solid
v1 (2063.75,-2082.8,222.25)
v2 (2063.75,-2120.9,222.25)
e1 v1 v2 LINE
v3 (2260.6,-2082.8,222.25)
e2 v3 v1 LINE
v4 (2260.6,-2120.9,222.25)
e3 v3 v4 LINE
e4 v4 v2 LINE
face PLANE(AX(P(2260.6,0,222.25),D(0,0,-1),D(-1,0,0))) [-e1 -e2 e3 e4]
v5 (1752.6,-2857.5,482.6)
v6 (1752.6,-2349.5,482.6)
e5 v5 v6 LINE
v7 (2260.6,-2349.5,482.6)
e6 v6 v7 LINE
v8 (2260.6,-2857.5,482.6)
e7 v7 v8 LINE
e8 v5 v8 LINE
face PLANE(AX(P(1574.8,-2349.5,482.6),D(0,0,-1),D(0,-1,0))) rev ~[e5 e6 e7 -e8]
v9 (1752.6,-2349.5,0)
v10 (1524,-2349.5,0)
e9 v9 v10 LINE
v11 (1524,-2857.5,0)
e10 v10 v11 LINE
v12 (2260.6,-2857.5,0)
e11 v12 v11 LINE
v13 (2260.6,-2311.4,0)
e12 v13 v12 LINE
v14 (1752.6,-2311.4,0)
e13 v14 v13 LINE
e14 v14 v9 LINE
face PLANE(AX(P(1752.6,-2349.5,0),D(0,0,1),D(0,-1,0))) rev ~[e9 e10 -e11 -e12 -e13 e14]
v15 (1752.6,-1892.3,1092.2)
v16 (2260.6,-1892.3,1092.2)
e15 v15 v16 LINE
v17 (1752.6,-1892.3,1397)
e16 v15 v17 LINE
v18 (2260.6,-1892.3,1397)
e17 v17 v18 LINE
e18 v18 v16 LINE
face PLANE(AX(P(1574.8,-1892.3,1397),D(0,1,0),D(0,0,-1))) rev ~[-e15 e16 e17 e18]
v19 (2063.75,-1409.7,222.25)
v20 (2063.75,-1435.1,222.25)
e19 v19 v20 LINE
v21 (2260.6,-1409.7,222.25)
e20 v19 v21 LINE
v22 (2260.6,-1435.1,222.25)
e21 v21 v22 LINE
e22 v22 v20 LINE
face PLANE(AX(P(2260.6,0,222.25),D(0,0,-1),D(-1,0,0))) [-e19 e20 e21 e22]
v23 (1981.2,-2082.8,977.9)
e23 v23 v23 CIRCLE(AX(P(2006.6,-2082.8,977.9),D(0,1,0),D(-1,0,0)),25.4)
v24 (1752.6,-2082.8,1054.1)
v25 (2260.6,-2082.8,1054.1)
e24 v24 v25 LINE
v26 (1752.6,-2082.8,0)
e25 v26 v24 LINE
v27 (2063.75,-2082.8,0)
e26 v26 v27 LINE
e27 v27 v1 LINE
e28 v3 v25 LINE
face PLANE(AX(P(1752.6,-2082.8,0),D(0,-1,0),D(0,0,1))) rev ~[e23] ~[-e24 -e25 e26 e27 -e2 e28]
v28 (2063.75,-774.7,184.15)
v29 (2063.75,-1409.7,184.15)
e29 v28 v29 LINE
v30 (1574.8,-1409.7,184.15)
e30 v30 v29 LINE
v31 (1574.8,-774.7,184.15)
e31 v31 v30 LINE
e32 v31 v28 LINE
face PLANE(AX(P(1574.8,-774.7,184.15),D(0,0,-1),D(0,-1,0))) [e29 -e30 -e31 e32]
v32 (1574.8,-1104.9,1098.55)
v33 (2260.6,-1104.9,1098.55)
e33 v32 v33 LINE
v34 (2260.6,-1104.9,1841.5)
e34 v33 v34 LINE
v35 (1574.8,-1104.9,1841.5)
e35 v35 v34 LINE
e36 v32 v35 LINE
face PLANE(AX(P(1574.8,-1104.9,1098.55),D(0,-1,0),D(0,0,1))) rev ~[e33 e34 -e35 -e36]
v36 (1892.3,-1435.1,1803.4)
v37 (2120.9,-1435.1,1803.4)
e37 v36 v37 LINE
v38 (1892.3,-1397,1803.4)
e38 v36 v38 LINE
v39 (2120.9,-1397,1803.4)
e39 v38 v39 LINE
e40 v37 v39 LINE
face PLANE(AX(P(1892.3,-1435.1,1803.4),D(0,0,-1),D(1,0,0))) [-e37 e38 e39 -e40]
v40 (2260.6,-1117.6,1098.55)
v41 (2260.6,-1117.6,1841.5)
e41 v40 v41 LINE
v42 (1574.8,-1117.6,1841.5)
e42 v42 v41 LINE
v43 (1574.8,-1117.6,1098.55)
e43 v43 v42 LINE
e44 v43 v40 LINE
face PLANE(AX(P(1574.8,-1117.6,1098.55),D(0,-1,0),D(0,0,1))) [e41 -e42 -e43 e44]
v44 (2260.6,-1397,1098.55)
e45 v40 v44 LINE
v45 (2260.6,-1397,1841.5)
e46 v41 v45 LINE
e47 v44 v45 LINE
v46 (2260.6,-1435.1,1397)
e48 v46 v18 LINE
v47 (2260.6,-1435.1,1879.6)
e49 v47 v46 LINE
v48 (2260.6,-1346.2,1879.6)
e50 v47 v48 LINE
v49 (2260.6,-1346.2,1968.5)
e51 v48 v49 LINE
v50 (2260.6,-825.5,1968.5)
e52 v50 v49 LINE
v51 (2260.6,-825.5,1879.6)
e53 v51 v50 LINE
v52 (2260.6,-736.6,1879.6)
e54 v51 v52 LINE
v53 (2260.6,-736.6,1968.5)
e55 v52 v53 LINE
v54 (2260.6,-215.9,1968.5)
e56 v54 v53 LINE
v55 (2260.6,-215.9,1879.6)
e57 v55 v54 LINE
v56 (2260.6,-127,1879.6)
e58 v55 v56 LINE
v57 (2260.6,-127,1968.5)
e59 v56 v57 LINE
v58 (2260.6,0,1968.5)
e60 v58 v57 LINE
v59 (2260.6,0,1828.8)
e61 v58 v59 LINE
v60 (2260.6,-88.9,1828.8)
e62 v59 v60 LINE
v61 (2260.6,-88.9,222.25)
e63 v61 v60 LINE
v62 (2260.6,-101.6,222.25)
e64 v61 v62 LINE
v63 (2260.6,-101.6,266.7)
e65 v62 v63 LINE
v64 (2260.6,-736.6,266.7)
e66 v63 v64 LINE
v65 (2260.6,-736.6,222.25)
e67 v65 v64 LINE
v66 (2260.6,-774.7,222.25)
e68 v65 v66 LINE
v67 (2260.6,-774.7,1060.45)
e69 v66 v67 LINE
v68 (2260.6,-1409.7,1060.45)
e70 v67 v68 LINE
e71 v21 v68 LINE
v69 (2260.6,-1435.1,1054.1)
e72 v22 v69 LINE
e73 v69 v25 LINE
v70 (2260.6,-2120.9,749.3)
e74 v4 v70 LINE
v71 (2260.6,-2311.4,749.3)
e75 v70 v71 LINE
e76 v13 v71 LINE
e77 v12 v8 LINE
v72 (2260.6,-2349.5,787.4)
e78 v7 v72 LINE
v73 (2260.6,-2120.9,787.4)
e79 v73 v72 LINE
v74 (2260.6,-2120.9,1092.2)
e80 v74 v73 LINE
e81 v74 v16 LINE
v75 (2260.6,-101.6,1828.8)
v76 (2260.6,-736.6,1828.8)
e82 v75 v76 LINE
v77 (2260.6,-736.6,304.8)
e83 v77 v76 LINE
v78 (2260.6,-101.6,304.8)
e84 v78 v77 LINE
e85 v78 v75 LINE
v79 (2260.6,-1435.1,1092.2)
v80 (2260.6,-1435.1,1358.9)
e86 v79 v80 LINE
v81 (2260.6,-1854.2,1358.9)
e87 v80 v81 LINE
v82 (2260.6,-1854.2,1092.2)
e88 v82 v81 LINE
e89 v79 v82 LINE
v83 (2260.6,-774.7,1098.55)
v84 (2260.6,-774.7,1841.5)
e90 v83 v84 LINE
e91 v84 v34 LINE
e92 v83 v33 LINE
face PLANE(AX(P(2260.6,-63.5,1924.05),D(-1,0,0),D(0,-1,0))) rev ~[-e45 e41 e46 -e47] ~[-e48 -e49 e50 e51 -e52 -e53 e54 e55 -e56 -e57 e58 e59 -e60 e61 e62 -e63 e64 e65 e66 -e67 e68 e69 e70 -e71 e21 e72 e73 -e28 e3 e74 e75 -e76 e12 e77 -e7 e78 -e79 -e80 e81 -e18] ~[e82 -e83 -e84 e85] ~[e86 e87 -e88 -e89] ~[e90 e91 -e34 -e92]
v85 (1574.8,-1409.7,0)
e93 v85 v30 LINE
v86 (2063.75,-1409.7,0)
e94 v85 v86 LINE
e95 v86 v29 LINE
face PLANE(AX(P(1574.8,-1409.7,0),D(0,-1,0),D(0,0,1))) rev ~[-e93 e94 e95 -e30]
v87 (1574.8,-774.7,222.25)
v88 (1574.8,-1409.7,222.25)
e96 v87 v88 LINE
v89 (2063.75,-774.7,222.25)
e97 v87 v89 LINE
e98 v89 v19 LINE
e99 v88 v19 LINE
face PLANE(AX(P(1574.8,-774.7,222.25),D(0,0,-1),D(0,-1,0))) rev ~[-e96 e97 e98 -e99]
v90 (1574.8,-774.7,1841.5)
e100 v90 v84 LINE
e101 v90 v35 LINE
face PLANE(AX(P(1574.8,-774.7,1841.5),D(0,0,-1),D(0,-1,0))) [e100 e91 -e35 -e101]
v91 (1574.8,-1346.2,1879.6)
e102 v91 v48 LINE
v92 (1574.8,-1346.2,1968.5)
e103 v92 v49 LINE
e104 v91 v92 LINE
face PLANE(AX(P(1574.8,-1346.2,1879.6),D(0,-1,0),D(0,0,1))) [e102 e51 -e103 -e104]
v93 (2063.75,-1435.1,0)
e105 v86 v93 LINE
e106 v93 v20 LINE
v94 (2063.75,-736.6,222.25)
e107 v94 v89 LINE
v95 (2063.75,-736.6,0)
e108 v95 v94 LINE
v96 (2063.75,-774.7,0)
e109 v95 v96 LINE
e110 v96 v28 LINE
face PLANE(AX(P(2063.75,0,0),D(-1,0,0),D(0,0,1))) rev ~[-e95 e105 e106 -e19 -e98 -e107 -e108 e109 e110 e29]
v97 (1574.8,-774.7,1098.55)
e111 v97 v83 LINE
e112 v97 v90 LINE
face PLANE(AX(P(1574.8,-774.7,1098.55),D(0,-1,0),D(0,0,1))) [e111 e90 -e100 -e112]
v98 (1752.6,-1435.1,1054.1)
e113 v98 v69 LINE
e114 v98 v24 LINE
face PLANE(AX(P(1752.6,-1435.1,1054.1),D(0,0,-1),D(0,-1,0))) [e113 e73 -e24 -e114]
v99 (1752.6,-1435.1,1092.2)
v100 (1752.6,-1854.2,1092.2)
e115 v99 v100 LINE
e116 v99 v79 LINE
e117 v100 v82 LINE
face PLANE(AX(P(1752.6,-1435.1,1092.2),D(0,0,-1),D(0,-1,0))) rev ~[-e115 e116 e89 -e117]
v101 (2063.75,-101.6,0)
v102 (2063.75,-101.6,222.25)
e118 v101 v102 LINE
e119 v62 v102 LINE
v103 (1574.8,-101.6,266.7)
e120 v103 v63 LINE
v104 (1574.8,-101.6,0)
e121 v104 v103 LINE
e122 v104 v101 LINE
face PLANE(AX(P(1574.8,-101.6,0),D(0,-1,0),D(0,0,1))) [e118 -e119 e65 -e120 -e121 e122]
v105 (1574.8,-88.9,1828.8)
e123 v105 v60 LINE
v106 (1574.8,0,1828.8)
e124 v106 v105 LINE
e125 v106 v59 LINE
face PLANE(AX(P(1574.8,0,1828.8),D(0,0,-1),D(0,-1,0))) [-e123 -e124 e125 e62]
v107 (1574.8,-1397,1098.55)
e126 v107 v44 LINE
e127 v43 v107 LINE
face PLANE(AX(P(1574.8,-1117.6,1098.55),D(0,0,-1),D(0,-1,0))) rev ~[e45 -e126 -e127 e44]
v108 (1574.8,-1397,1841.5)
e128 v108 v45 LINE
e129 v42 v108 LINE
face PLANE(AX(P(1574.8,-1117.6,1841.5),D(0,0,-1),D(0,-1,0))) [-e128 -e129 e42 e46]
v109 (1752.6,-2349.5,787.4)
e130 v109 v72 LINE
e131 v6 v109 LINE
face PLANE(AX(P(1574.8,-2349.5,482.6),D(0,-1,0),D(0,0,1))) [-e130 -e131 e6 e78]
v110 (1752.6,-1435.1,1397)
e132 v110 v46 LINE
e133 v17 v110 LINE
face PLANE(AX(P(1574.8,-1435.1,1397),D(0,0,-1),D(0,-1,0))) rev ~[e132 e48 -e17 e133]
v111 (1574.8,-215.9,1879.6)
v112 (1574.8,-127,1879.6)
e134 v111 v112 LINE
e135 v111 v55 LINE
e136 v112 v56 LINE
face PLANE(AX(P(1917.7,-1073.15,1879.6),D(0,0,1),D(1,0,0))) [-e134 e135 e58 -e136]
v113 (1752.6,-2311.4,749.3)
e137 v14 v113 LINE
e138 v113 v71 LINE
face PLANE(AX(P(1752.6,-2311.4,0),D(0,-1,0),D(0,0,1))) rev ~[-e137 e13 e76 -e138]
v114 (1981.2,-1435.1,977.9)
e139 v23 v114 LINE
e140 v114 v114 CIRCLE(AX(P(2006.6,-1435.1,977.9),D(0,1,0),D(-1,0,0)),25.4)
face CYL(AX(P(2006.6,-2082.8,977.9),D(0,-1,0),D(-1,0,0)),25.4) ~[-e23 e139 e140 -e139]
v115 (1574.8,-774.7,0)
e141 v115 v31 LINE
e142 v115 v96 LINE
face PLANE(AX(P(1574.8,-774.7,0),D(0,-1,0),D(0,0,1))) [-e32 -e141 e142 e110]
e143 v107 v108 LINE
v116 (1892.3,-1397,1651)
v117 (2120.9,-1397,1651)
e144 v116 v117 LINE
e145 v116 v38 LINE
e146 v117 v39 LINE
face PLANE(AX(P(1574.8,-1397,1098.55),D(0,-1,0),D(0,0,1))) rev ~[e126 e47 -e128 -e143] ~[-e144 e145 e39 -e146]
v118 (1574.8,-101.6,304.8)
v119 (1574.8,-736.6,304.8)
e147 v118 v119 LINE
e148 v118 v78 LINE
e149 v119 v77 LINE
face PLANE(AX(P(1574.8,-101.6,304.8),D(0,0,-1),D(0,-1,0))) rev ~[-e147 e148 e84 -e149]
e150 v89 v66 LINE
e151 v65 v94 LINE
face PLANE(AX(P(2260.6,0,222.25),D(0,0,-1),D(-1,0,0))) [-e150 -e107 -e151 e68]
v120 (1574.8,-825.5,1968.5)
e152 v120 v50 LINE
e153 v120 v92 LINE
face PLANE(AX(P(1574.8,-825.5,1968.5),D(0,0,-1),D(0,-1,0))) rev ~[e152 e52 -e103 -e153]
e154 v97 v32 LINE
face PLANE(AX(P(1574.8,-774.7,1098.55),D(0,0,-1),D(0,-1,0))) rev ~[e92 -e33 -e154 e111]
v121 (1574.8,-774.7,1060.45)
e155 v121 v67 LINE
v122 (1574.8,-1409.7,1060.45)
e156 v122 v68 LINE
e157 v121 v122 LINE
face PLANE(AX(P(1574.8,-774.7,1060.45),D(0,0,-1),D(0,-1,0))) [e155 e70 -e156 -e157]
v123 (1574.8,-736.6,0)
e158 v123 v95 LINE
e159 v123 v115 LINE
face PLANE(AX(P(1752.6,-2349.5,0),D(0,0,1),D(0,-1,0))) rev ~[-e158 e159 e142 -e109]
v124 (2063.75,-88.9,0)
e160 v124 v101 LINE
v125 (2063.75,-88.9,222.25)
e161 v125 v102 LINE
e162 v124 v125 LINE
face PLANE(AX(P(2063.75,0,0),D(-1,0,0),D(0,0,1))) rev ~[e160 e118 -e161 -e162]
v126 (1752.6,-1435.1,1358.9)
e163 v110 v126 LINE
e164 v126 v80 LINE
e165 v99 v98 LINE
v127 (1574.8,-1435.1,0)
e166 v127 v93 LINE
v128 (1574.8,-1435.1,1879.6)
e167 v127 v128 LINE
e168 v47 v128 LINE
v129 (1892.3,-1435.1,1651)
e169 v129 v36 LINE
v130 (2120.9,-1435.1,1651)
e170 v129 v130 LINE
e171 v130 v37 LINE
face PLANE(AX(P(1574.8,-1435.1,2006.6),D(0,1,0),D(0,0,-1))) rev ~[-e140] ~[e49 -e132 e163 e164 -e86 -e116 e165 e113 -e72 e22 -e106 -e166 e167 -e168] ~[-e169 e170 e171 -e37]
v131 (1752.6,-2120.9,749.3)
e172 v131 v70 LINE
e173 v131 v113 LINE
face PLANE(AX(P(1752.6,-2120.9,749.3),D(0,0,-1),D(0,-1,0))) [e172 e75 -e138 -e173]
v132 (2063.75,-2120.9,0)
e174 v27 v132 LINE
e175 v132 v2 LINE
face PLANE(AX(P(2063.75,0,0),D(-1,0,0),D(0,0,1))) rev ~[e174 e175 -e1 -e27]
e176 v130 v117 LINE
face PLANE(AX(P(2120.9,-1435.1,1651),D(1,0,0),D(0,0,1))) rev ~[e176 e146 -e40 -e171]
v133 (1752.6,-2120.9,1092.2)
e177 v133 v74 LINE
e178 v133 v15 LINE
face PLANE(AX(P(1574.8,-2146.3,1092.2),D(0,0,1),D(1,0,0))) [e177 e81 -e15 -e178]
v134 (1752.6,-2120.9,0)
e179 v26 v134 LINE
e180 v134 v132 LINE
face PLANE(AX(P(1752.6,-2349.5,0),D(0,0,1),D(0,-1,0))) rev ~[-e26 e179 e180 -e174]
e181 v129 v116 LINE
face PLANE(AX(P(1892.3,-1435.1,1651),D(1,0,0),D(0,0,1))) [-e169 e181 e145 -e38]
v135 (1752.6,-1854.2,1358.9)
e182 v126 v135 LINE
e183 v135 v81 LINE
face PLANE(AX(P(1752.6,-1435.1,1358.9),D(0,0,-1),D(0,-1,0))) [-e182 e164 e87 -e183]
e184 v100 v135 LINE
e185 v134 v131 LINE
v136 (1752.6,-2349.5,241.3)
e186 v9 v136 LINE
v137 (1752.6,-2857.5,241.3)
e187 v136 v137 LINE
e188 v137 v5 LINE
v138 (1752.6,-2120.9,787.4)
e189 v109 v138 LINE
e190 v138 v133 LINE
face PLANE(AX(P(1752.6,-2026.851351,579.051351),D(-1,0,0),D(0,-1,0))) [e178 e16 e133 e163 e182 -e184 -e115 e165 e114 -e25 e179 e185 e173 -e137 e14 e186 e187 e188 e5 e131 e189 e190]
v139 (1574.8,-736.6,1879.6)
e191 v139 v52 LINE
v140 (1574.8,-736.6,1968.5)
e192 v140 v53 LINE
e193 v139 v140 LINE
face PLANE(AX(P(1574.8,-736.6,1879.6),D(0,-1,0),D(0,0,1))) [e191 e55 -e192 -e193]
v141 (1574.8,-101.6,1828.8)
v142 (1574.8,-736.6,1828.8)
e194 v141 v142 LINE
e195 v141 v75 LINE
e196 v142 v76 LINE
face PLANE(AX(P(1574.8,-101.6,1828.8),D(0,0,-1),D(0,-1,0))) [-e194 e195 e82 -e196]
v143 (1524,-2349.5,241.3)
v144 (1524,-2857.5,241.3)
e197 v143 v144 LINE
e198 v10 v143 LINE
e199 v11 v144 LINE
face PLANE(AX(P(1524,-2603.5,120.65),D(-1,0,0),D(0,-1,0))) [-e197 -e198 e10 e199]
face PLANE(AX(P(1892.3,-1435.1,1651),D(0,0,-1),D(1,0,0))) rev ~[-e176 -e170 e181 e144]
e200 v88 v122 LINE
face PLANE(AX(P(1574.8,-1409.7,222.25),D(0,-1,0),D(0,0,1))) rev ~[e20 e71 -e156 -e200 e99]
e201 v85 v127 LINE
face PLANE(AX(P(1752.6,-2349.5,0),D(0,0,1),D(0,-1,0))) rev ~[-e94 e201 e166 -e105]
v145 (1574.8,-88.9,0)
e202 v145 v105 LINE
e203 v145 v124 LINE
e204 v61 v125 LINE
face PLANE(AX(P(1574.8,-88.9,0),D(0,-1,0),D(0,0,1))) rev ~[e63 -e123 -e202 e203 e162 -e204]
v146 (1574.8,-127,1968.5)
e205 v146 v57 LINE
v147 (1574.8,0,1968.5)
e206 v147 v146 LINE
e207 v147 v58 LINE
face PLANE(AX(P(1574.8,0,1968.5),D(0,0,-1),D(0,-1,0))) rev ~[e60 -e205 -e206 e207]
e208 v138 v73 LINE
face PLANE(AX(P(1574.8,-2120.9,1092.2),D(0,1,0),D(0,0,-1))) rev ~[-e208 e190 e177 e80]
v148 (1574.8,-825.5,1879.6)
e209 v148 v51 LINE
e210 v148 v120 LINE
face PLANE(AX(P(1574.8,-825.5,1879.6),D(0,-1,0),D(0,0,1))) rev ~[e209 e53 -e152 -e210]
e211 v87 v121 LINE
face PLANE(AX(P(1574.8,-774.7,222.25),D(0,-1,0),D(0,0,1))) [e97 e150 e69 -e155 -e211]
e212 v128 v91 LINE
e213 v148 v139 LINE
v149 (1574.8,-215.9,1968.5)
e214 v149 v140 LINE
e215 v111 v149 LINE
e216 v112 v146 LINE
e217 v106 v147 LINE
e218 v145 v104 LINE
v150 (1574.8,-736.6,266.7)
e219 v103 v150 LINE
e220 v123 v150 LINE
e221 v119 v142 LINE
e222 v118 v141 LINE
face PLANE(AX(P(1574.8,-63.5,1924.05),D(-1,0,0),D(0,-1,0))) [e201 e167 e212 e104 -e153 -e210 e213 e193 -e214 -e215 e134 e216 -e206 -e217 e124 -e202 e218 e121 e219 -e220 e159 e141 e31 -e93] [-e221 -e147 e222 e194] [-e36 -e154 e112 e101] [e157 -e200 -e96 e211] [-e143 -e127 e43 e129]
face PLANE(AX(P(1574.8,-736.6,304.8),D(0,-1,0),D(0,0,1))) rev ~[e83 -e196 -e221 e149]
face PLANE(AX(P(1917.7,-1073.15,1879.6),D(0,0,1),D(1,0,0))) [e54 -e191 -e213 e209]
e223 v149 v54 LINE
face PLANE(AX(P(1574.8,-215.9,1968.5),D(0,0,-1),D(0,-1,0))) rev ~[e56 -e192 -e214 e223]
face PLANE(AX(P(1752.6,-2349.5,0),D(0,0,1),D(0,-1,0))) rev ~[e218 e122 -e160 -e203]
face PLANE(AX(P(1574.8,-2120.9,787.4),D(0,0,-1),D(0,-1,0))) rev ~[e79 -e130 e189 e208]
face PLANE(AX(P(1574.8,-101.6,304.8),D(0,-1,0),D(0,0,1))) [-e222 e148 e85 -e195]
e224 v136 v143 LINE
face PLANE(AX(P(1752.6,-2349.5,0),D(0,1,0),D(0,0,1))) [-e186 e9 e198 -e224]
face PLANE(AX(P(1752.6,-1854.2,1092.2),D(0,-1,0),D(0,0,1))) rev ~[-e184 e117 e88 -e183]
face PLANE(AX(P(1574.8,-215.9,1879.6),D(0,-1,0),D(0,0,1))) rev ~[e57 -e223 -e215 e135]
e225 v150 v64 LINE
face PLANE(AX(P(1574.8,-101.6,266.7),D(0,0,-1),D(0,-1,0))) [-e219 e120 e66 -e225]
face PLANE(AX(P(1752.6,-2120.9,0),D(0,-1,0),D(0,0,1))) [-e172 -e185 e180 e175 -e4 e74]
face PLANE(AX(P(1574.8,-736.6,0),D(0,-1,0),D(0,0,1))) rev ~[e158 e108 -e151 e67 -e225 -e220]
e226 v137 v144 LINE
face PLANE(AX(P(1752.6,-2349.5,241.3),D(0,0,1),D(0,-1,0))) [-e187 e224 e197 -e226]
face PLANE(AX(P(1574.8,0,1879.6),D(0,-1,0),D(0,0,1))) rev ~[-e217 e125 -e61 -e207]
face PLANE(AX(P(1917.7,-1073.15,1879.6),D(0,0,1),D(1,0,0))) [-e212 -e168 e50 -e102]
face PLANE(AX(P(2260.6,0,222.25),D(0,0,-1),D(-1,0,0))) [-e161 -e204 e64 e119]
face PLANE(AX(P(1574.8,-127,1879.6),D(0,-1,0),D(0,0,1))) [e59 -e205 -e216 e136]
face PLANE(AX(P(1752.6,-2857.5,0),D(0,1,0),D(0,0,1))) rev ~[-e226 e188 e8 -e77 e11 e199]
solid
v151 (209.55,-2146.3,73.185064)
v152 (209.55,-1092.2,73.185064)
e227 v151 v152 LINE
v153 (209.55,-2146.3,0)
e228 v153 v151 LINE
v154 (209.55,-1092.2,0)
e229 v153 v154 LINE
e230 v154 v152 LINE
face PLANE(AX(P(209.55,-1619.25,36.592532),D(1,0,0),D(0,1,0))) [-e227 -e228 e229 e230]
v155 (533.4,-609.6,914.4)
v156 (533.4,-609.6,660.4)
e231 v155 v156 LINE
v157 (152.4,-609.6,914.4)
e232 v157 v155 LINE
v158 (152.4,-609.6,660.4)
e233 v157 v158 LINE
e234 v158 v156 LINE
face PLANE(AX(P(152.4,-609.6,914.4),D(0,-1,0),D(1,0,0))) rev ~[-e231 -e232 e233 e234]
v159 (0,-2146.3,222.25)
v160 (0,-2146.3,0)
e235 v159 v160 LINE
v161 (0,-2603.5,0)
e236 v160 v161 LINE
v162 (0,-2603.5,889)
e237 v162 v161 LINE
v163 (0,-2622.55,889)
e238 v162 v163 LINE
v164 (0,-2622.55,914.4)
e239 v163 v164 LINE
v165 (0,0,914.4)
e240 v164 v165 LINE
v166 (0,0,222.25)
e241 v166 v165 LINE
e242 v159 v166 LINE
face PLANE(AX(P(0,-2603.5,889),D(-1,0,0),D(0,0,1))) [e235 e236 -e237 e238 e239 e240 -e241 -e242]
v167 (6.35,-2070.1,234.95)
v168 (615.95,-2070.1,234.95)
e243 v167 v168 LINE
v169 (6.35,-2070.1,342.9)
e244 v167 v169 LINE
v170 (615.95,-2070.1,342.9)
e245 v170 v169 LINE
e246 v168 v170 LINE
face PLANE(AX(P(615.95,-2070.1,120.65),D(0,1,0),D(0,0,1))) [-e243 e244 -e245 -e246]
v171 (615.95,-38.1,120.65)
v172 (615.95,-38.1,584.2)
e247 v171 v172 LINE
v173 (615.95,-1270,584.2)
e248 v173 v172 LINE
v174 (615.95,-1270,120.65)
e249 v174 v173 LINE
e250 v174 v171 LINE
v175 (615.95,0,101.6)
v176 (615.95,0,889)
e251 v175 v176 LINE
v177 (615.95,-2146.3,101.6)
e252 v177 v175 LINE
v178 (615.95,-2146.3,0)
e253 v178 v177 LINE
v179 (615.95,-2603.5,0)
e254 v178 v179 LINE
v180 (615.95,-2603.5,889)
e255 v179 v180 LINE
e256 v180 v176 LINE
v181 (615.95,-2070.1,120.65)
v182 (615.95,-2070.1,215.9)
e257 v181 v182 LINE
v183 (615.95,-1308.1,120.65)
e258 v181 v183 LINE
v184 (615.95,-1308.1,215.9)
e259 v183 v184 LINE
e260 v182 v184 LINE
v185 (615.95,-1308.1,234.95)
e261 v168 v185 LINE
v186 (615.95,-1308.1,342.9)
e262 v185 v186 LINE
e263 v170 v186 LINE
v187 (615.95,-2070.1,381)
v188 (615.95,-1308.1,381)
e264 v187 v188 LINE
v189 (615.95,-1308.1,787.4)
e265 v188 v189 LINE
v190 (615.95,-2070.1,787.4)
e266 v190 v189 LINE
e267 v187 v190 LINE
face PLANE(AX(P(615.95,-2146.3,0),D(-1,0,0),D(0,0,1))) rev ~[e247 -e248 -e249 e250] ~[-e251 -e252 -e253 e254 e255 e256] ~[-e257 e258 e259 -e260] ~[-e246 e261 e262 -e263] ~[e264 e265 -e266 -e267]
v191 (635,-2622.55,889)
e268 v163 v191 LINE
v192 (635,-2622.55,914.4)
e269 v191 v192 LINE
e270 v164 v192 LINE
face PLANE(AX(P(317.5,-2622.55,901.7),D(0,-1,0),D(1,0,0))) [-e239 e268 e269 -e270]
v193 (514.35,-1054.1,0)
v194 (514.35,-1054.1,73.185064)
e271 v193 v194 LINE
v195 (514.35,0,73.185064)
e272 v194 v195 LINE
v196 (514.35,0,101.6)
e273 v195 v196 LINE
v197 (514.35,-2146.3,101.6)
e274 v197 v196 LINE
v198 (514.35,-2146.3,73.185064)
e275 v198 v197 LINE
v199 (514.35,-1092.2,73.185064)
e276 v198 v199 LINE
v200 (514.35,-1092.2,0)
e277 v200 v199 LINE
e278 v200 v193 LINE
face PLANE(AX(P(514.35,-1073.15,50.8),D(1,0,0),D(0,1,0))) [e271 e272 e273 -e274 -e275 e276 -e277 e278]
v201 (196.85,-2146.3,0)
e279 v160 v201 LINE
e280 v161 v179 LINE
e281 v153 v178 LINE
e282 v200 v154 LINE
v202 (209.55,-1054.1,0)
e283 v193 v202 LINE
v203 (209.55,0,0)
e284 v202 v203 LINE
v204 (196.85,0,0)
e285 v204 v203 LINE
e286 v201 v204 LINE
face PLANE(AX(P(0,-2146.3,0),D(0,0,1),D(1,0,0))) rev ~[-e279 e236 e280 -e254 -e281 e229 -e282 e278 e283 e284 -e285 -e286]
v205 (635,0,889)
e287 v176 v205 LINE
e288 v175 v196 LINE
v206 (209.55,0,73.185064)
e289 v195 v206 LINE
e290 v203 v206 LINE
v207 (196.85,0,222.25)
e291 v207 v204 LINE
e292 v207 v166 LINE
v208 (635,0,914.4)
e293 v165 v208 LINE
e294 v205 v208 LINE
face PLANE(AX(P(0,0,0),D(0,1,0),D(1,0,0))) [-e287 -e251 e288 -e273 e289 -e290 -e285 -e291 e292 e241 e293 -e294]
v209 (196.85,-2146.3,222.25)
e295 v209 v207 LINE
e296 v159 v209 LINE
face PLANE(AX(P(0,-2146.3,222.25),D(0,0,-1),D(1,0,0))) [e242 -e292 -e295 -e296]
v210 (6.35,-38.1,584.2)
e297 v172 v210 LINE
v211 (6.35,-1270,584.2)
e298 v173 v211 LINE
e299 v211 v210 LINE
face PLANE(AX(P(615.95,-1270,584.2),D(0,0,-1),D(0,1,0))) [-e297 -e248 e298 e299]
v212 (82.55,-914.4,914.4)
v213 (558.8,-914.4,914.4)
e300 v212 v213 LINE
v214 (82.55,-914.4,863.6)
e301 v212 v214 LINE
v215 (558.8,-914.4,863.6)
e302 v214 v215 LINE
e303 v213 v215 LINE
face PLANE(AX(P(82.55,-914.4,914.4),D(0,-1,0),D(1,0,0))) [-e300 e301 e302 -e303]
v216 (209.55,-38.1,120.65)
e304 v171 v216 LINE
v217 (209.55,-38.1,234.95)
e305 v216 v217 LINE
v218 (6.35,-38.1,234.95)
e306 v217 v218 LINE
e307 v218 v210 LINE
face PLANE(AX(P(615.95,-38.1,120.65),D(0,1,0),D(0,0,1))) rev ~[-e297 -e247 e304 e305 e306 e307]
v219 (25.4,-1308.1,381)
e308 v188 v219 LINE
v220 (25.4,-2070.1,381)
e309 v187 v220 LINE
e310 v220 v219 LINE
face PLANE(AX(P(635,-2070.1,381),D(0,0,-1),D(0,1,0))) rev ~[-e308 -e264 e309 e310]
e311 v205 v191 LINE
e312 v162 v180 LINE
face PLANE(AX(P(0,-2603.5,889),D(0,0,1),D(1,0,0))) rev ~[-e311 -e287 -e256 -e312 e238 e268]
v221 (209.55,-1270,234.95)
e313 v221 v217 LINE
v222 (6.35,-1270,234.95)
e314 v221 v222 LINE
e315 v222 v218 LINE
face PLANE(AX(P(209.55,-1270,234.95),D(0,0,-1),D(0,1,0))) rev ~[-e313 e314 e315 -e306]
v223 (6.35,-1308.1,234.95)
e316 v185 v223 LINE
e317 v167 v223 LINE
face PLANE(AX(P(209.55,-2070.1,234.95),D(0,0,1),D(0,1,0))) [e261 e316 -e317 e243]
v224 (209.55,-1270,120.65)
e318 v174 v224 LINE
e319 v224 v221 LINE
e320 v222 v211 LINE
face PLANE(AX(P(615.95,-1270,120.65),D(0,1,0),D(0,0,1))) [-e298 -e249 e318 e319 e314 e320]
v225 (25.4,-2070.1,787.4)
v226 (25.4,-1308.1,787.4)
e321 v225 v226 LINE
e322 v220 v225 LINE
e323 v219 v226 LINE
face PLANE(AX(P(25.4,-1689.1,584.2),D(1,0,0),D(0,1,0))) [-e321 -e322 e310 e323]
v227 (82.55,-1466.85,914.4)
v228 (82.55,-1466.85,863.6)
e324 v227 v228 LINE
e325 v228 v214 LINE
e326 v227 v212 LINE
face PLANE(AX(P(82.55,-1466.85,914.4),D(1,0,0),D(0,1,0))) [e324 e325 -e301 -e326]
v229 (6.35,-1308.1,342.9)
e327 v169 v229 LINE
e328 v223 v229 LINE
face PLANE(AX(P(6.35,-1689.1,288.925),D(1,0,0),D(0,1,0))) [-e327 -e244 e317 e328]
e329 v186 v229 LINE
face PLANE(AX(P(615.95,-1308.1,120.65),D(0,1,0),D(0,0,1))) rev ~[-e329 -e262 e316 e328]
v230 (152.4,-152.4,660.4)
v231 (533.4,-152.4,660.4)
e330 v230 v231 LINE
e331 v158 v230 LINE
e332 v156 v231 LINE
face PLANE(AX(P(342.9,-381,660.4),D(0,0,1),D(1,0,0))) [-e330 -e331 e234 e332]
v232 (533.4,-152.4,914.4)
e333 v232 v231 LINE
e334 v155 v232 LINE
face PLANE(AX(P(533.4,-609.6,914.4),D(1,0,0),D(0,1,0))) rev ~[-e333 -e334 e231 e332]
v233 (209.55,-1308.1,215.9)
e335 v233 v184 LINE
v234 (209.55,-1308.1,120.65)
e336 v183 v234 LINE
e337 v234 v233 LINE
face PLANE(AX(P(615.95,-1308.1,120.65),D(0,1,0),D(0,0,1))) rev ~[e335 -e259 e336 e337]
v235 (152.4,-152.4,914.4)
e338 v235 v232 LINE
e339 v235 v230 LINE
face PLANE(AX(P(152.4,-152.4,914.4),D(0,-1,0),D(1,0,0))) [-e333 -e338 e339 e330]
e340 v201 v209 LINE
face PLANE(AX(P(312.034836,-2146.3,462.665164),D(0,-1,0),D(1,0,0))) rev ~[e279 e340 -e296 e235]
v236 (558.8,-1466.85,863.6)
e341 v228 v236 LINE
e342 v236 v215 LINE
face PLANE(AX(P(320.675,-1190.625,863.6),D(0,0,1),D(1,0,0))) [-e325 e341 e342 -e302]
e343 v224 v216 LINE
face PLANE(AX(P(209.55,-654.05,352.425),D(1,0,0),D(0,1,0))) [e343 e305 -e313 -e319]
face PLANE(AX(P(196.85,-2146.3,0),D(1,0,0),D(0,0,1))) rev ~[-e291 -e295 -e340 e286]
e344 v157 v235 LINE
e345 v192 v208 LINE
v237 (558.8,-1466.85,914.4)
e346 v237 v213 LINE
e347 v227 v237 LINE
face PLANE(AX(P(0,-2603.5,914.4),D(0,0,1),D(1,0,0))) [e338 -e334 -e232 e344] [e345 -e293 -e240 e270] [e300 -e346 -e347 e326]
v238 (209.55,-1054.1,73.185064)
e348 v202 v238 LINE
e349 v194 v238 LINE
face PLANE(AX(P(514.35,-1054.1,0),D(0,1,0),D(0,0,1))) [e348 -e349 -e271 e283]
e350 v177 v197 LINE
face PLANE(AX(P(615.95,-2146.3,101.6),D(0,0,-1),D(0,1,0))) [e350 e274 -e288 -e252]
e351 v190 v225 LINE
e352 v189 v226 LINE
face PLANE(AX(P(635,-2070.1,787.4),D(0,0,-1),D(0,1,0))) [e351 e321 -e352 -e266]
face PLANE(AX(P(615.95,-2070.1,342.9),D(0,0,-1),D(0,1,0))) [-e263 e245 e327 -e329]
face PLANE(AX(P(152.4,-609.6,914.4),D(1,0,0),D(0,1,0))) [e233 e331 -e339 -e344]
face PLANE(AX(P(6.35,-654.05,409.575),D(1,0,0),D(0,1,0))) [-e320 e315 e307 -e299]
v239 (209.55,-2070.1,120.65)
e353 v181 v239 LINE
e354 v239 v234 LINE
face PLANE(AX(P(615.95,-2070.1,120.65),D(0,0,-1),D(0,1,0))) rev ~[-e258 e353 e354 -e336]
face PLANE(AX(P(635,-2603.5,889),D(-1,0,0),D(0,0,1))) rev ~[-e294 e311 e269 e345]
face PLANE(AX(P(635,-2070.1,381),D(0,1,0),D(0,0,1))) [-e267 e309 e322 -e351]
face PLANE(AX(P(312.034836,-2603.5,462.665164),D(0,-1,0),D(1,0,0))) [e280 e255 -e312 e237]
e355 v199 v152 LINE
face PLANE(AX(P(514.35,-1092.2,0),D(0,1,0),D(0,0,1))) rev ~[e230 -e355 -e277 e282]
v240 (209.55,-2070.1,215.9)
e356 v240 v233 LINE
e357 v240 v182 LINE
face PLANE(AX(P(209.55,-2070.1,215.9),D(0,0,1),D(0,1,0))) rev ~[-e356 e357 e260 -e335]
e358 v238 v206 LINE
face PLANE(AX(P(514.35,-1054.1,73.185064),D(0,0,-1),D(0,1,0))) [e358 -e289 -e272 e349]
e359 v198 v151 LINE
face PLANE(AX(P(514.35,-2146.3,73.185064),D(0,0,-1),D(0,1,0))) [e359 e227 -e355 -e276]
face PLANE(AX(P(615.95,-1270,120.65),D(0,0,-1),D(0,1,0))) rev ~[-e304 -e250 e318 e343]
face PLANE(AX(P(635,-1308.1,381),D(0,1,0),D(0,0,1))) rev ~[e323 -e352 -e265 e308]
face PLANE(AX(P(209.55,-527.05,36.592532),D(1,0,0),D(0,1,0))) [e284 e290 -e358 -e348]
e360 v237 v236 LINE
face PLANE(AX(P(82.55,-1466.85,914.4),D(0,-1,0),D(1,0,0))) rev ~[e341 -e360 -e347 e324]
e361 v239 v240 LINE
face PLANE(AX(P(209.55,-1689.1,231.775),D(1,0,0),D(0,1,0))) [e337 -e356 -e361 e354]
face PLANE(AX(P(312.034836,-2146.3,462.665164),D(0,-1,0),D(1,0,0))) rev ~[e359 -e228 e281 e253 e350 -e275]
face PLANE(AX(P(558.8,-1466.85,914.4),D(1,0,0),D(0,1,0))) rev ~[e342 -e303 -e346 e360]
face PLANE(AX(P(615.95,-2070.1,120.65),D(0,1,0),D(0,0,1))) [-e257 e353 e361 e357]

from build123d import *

# Parameters (mm, degrees)
F0_W      = 635
F0_H      = 2146.3
F1_DEPTH  = 914.4
F2_W      = 196.85
F2_H      = 222.25
F3_DEPTH  = 2260.6
F4_W      = 19.05
F4_H      = 2146.3
F5_DEPTH  = 889
F7_W      = 476.25
F7_H      = 552.45
F8_DEPTH  = 50.8
F9_W      = 762
F9_H      = 406.4
F10_DEPTH = 609.6
F11_W     = 381
F11_H     = 457.2
F12_DEPTH = 254
F13_W     = 2146.3
F13_H     = 101.6
F14_DEPTH = 101.6
F15_W     = 762
F15_H     = 222.25
F15_W_2   = 1231.9
F15_H_2   = 463.55
F16_DEPTH = 406.4
F17_W     = 762
F17_H     = 107.95
F17_W_2   = 1231.9
F17_H_2   = 349.25
F18_DEPTH = 203.2
F19_W     = 762
F19_H     = 19.05
F20_DEPTH = 406.4
F21_W     = 1054.1
F21_H     = 73.185064
F22_DEPTH = 304.8
F23_W     = 685.8
F23_H     = 2146.3
F24_DEPTH = 1879.6
F26_DEPTH = 457.2
F27_W     = 635
F27_H     = 25.4
F28_DEPTH = 19.05
F29_W     = 635
F29_H     = 1524
F30_DEPTH = 685.801
F31_W     = 196.85
F31_H     = 222.25
F32_DEPTH = 2622.551
F33_W     = 88.9
F33_H     = 1828.8
F34_DEPTH = 685.801
F36_DEPTH = 685.801
F37_W     = 685.8
F37_H     = 1092.2
F38_DEPTH = 711.2
F39_W     = 508
F39_H     = 304.8
F40_DEPTH = 685.801
F41_W     = 635
F41_H     = 838.2
F42_DEPTH = 685.801
F44_DEPTH = 177.8
F45_W     = 508
F45_H     = 241.3
F46_DEPTH = 228.6
F47_W     = 279.4
F47_H     = 742.95
F47_W_2   = 330.2
F48_DEPTH = 685.801
F49_W     = 228.6
F49_H     = 152.4
F50_DEPTH = 38.1
F51_W     = 190.5
F51_H     = 749.3
F51_W_2   = 647.7
F51_H_2   = 1054.1
F51_W_3   = 419.1
F51_H_3   = 266.7
F52_DEPTH = 508.001
F53_R     = 25.4
F54_DEPTH = 647.7
F55_W     = 635
F55_H     = 266.7
F55_H_2   = 184.15
F56_DEPTH = 685.801
F57_W     = 520.7
F57_H     = 88.9
F57_W_2   = 127
F58_DEPTH = 685.8


with BuildPart() as f1:
    # F0 (on Top) → F1 (new body)
    with BuildSketch(Plane.XY):
        with Locations((317.5, -1073.15)):
            Rectangle(F0_W, F0_H)
    extrude(amount=F1_DEPTH)

    # F2 (on face) → F3 (cut)
    with BuildSketch(Plane.XZ.offset(2146.3)):
        with Locations((98.425, 111.125)):
            Rectangle(F2_W, F2_H)
    extrude(amount=-F3_DEPTH, mode=Mode.SUBTRACT)

    # F4 (on face) → F5 (cut)
    with BuildSketch(Plane(origin=(0, 0, 0), x_dir=(1, 0, 0), z_dir=(0, 0, -1))):
        with Locations((625.475, 1073.15)):
            Rectangle(F4_W, F4_H)
    extrude(amount=-F5_DEPTH, mode=Mode.SUBTRACT)

    # F7 (on face) → F8 (cut)
    with BuildSketch(Plane.XY.offset(914.4)):
        with Locations((320.675, -1190.625)):
            Rectangle(F7_W, F7_H)
    extrude(amount=-F8_DEPTH, mode=Mode.SUBTRACT)

    # F9 (on face) → F10 (cut)
    with BuildSketch(Plane.YZ.offset(635)):
        with Locations((-1689.1, 584.2)):
            Rectangle(F9_W, F9_H)
    extrude(amount=-F10_DEPTH, mode=Mode.SUBTRACT)

    # F11 (on face) → F12 (cut)
    with BuildSketch(Plane.XY.offset(914.4)):
        with Locations((342.9, -381)):
            Rectangle(F11_W, F11_H)
    extrude(amount=-F12_DEPTH, mode=Mode.SUBTRACT)

    # F13 (on face) → F14 (cut)
    with BuildSketch(Plane.YZ.offset(615.95)):
        with Locations((-1073.15, 50.8)):
            Rectangle(F13_W, F13_H)
    extrude(amount=-F14_DEPTH, mode=Mode.SUBTRACT)

    # F15 (on face) → F16 (cut)
    with BuildSketch(Plane.YZ.offset(615.95)):
        with Locations((-1689.1, 231.775)):
            Rectangle(F15_W, F15_H)
        with Locations((-654.05, 352.425)):
            Rectangle(F15_W_2, F15_H_2)
    extrude(amount=-F16_DEPTH, mode=Mode.SUBTRACT)

    # F17 (on face) → F18 (cut)
    with BuildSketch(Plane.YZ.offset(209.55)):
        with Locations((-1689.1, 288.925)):
            Rectangle(F17_W, F17_H)
        with Locations((-654.05, 409.575)):
            Rectangle(F17_W_2, F17_H_2)
    extrude(amount=-F18_DEPTH, mode=Mode.SUBTRACT)

    # F19 (on face) → F20 (join, through all)
    with BuildSketch(Plane.YZ.offset(209.55)):
        with Locations((-1689.1, 225.425)):
            Rectangle(F19_W, F19_H)
    extrude(amount=F20_DEPTH)

    # F21 (on face) → F22 (cut)
    with BuildSketch(Plane.YZ.offset(514.35)):
        with Locations((-1619.25, 36.592532)):
            Rectangle(F21_W, F21_H)
        with Locations((-527.05, 36.592532)):
            Rectangle(F21_W, F21_H)
    extrude(amount=-F22_DEPTH, mode=Mode.SUBTRACT)

    # F25 (on face) → F26 (join)
    with BuildSketch(Plane.XZ.offset(2146.3)):
        Polygon((635, 914.4), (0, 914.4), (0, 0), (615.95, 0), (615.95, 889), (635, 889), align=None)
    extrude(amount=F26_DEPTH)

    # F27 (on face) → F28 (join)
    with BuildSketch(Plane.XZ.offset(2603.5)):
        with Locations((317.5, 901.7)):
            Rectangle(F27_W, F27_H)
    extrude(amount=F28_DEPTH)


with BuildPart() as f24:
    # F23 (on Top) → F24 (new body)
    with BuildSketch(Plane.XY):
        with Locations((1917.7, -1073.15)):
            Rectangle(F23_W, F23_H)
    extrude(amount=F24_DEPTH)

    # F29 (on face) → F30 (cut, through all)
    with BuildSketch(Plane(origin=(1574.8, 0, 0), x_dir=(0, -1, 0), z_dir=(-1, 0, 0))):
        with Locations((419.1, 1066.8)):
            Rectangle(F29_W, F29_H)
    extrude(amount=-F30_DEPTH, mode=Mode.SUBTRACT)

    # F31 (on face) → F32 (cut, through all)
    with BuildSketch(Plane(origin=(0, 0, 0), x_dir=(-1, 0, 0), z_dir=(0, 1, 0))):
        with Locations((-2162.175, 111.125)):
            Rectangle(F31_W, F31_H)
    extrude(amount=-F32_DEPTH, mode=Mode.SUBTRACT)

    # F33 (on face) → F34 (cut, through all)
    with BuildSketch(Plane(origin=(1574.8, 0, 0), x_dir=(0, -1, 0), z_dir=(-1, 0, 0))):
        with Locations((44.45, 914.4)):
            Rectangle(F33_W, F33_H)
    extrude(amount=-F34_DEPTH, mode=Mode.SUBTRACT)

    # F35 (on face) → F36 (cut, through all)
    with BuildSketch(Plane(origin=(1574.8, 0, 0), x_dir=(0, -1, 0), z_dir=(-1, 0, 0))):
        Polygon((1435.1, 1397), (1892.3, 1397), (1892.3, 1092.2), (2146.3, 1092.2), (2146.3, 2006.6), (1435.1, 2006.6), align=None)
    extrude(amount=-F36_DEPTH, mode=Mode.SUBTRACT)

    # F37 (on face) → F38 (join)
    with BuildSketch(Plane.XZ.offset(2146.3)):
        with Locations((1917.7, 546.1)):
            Rectangle(F37_W, F37_H)
    extrude(amount=F38_DEPTH)

    # F39 (on face) → F40 (cut, through all)
    with BuildSketch(Plane(origin=(1574.8, 0, 0), x_dir=(0, -1, 0), z_dir=(-1, 0, 0))):
        Polygon((2857.5, 787.4), (2857.5, 1092.2), (2120.9, 1092.2), (2120.9, 787.4), (2349.5, 787.4), align=None)
        with Locations((2603.5, 635)):
            Rectangle(F39_W, F39_H)
    extrude(amount=-F40_DEPTH, mode=Mode.SUBTRACT)

    # F41 (on face) → F42 (cut, through all)
    with BuildSketch(Plane(origin=(1574.8, 0, 0), x_dir=(0, -1, 0), z_dir=(-1, 0, 0))):
        with Locations((1092.2, 641.35)):
            Rectangle(F41_W, F41_H)
    extrude(amount=-F42_DEPTH, mode=Mode.SUBTRACT)

    # F43 (on face) → F44 (cut)
    with BuildSketch(Plane(origin=(1574.8, 0, 0), x_dir=(0, -1, 0), z_dir=(-1, 0, 0))):
        Polygon((2120.9, 1092.2), (1892.3, 1092.2), (1892.3, 1397), (1435.1, 1397), (1435.1, 0), (2857.5, 0), (2857.5, 482.6), (2349.5, 482.6), (2349.5, 787.4), (2120.9, 787.4), align=None)
    extrude(amount=-F44_DEPTH, mode=Mode.SUBTRACT)

    # F45 (on face) → F46 (join)
    with BuildSketch(Plane(origin=(1752.6, 0, 0), x_dir=(0, -1, 0), z_dir=(-1, 0, 0))):
        with Locations((2603.5, 120.65)):
            Rectangle(F45_W, F45_H)
    extrude(amount=F46_DEPTH)

    # F47 (on face) → F48 (cut, through all)
    with BuildSketch(Plane(origin=(1574.8, 0, 0), x_dir=(0, -1, 0), z_dir=(-1, 0, 0))):
        with Locations((1257.3, 1470.025)):
            Rectangle(F47_W, F47_H)
        with Locations((939.8, 1470.025)):
            Rectangle(F47_W_2, F47_H)
    extrude(amount=-F48_DEPTH, mode=Mode.SUBTRACT)

    # F49 (on face) → F50 (cut, through all)
    with BuildSketch(Plane.XZ.offset(1435.1)):
        with Locations((2006.6, 1727.2)):
            Rectangle(F49_W, F49_H)
    extrude(amount=-F50_DEPTH, mode=Mode.SUBTRACT)

    # F51 (on face) → F52 (cut, through all)
    with BuildSketch(Plane(origin=(1752.6, 0, 0), x_dir=(0, -1, 0), z_dir=(-1, 0, 0))):
        with Locations((2216.15, 374.65)):
            Rectangle(F51_W, F51_H)
        with Locations((1758.95, 527.05)):
            Rectangle(F51_W_2, F51_H_2)
        with Locations((1644.65, 1225.55)):
            Rectangle(F51_W_3, F51_H_3)
    extrude(amount=-F52_DEPTH, mode=Mode.SUBTRACT)

    # F53 (on face) → F54 (join, through all)
    with BuildSketch(Plane(origin=(0, -2082.8, 0), x_dir=(-1, 0, 0), z_dir=(0, 1, 0))):
        with Locations((-2006.6, 977.9)):
            Circle(F53_R)
    extrude(amount=F54_DEPTH)

    # F55 (on face) → F56 (cut, through all)
    with BuildSketch(Plane(origin=(1574.8, 0, 0), x_dir=(0, -1, 0), z_dir=(-1, 0, 0))):
        with Locations((419.1, 133.35)):
            Rectangle(F55_W, F55_H)
        with Locations((1092.2, 92.075)):
            Rectangle(F55_W, F55_H_2)
    extrude(amount=-F56_DEPTH, mode=Mode.SUBTRACT)

    # F57 (on face) → F58 (join, through all)
    with BuildSketch(Plane(origin=(1574.8, 0, 0), x_dir=(0, -1, 0), z_dir=(-1, 0, 0))):
        with Locations((1085.85, 1924.05)):
            Rectangle(F57_W, F57_H)
        with Locations((476.25, 1924.05)):
            Rectangle(F57_W, F57_H)
        with Locations((63.5, 1924.05)):
            Rectangle(F57_W_2, F57_H)
    extrude(amount=-F58_DEPTH)


solid = Compound([f1.part, f24.part])
